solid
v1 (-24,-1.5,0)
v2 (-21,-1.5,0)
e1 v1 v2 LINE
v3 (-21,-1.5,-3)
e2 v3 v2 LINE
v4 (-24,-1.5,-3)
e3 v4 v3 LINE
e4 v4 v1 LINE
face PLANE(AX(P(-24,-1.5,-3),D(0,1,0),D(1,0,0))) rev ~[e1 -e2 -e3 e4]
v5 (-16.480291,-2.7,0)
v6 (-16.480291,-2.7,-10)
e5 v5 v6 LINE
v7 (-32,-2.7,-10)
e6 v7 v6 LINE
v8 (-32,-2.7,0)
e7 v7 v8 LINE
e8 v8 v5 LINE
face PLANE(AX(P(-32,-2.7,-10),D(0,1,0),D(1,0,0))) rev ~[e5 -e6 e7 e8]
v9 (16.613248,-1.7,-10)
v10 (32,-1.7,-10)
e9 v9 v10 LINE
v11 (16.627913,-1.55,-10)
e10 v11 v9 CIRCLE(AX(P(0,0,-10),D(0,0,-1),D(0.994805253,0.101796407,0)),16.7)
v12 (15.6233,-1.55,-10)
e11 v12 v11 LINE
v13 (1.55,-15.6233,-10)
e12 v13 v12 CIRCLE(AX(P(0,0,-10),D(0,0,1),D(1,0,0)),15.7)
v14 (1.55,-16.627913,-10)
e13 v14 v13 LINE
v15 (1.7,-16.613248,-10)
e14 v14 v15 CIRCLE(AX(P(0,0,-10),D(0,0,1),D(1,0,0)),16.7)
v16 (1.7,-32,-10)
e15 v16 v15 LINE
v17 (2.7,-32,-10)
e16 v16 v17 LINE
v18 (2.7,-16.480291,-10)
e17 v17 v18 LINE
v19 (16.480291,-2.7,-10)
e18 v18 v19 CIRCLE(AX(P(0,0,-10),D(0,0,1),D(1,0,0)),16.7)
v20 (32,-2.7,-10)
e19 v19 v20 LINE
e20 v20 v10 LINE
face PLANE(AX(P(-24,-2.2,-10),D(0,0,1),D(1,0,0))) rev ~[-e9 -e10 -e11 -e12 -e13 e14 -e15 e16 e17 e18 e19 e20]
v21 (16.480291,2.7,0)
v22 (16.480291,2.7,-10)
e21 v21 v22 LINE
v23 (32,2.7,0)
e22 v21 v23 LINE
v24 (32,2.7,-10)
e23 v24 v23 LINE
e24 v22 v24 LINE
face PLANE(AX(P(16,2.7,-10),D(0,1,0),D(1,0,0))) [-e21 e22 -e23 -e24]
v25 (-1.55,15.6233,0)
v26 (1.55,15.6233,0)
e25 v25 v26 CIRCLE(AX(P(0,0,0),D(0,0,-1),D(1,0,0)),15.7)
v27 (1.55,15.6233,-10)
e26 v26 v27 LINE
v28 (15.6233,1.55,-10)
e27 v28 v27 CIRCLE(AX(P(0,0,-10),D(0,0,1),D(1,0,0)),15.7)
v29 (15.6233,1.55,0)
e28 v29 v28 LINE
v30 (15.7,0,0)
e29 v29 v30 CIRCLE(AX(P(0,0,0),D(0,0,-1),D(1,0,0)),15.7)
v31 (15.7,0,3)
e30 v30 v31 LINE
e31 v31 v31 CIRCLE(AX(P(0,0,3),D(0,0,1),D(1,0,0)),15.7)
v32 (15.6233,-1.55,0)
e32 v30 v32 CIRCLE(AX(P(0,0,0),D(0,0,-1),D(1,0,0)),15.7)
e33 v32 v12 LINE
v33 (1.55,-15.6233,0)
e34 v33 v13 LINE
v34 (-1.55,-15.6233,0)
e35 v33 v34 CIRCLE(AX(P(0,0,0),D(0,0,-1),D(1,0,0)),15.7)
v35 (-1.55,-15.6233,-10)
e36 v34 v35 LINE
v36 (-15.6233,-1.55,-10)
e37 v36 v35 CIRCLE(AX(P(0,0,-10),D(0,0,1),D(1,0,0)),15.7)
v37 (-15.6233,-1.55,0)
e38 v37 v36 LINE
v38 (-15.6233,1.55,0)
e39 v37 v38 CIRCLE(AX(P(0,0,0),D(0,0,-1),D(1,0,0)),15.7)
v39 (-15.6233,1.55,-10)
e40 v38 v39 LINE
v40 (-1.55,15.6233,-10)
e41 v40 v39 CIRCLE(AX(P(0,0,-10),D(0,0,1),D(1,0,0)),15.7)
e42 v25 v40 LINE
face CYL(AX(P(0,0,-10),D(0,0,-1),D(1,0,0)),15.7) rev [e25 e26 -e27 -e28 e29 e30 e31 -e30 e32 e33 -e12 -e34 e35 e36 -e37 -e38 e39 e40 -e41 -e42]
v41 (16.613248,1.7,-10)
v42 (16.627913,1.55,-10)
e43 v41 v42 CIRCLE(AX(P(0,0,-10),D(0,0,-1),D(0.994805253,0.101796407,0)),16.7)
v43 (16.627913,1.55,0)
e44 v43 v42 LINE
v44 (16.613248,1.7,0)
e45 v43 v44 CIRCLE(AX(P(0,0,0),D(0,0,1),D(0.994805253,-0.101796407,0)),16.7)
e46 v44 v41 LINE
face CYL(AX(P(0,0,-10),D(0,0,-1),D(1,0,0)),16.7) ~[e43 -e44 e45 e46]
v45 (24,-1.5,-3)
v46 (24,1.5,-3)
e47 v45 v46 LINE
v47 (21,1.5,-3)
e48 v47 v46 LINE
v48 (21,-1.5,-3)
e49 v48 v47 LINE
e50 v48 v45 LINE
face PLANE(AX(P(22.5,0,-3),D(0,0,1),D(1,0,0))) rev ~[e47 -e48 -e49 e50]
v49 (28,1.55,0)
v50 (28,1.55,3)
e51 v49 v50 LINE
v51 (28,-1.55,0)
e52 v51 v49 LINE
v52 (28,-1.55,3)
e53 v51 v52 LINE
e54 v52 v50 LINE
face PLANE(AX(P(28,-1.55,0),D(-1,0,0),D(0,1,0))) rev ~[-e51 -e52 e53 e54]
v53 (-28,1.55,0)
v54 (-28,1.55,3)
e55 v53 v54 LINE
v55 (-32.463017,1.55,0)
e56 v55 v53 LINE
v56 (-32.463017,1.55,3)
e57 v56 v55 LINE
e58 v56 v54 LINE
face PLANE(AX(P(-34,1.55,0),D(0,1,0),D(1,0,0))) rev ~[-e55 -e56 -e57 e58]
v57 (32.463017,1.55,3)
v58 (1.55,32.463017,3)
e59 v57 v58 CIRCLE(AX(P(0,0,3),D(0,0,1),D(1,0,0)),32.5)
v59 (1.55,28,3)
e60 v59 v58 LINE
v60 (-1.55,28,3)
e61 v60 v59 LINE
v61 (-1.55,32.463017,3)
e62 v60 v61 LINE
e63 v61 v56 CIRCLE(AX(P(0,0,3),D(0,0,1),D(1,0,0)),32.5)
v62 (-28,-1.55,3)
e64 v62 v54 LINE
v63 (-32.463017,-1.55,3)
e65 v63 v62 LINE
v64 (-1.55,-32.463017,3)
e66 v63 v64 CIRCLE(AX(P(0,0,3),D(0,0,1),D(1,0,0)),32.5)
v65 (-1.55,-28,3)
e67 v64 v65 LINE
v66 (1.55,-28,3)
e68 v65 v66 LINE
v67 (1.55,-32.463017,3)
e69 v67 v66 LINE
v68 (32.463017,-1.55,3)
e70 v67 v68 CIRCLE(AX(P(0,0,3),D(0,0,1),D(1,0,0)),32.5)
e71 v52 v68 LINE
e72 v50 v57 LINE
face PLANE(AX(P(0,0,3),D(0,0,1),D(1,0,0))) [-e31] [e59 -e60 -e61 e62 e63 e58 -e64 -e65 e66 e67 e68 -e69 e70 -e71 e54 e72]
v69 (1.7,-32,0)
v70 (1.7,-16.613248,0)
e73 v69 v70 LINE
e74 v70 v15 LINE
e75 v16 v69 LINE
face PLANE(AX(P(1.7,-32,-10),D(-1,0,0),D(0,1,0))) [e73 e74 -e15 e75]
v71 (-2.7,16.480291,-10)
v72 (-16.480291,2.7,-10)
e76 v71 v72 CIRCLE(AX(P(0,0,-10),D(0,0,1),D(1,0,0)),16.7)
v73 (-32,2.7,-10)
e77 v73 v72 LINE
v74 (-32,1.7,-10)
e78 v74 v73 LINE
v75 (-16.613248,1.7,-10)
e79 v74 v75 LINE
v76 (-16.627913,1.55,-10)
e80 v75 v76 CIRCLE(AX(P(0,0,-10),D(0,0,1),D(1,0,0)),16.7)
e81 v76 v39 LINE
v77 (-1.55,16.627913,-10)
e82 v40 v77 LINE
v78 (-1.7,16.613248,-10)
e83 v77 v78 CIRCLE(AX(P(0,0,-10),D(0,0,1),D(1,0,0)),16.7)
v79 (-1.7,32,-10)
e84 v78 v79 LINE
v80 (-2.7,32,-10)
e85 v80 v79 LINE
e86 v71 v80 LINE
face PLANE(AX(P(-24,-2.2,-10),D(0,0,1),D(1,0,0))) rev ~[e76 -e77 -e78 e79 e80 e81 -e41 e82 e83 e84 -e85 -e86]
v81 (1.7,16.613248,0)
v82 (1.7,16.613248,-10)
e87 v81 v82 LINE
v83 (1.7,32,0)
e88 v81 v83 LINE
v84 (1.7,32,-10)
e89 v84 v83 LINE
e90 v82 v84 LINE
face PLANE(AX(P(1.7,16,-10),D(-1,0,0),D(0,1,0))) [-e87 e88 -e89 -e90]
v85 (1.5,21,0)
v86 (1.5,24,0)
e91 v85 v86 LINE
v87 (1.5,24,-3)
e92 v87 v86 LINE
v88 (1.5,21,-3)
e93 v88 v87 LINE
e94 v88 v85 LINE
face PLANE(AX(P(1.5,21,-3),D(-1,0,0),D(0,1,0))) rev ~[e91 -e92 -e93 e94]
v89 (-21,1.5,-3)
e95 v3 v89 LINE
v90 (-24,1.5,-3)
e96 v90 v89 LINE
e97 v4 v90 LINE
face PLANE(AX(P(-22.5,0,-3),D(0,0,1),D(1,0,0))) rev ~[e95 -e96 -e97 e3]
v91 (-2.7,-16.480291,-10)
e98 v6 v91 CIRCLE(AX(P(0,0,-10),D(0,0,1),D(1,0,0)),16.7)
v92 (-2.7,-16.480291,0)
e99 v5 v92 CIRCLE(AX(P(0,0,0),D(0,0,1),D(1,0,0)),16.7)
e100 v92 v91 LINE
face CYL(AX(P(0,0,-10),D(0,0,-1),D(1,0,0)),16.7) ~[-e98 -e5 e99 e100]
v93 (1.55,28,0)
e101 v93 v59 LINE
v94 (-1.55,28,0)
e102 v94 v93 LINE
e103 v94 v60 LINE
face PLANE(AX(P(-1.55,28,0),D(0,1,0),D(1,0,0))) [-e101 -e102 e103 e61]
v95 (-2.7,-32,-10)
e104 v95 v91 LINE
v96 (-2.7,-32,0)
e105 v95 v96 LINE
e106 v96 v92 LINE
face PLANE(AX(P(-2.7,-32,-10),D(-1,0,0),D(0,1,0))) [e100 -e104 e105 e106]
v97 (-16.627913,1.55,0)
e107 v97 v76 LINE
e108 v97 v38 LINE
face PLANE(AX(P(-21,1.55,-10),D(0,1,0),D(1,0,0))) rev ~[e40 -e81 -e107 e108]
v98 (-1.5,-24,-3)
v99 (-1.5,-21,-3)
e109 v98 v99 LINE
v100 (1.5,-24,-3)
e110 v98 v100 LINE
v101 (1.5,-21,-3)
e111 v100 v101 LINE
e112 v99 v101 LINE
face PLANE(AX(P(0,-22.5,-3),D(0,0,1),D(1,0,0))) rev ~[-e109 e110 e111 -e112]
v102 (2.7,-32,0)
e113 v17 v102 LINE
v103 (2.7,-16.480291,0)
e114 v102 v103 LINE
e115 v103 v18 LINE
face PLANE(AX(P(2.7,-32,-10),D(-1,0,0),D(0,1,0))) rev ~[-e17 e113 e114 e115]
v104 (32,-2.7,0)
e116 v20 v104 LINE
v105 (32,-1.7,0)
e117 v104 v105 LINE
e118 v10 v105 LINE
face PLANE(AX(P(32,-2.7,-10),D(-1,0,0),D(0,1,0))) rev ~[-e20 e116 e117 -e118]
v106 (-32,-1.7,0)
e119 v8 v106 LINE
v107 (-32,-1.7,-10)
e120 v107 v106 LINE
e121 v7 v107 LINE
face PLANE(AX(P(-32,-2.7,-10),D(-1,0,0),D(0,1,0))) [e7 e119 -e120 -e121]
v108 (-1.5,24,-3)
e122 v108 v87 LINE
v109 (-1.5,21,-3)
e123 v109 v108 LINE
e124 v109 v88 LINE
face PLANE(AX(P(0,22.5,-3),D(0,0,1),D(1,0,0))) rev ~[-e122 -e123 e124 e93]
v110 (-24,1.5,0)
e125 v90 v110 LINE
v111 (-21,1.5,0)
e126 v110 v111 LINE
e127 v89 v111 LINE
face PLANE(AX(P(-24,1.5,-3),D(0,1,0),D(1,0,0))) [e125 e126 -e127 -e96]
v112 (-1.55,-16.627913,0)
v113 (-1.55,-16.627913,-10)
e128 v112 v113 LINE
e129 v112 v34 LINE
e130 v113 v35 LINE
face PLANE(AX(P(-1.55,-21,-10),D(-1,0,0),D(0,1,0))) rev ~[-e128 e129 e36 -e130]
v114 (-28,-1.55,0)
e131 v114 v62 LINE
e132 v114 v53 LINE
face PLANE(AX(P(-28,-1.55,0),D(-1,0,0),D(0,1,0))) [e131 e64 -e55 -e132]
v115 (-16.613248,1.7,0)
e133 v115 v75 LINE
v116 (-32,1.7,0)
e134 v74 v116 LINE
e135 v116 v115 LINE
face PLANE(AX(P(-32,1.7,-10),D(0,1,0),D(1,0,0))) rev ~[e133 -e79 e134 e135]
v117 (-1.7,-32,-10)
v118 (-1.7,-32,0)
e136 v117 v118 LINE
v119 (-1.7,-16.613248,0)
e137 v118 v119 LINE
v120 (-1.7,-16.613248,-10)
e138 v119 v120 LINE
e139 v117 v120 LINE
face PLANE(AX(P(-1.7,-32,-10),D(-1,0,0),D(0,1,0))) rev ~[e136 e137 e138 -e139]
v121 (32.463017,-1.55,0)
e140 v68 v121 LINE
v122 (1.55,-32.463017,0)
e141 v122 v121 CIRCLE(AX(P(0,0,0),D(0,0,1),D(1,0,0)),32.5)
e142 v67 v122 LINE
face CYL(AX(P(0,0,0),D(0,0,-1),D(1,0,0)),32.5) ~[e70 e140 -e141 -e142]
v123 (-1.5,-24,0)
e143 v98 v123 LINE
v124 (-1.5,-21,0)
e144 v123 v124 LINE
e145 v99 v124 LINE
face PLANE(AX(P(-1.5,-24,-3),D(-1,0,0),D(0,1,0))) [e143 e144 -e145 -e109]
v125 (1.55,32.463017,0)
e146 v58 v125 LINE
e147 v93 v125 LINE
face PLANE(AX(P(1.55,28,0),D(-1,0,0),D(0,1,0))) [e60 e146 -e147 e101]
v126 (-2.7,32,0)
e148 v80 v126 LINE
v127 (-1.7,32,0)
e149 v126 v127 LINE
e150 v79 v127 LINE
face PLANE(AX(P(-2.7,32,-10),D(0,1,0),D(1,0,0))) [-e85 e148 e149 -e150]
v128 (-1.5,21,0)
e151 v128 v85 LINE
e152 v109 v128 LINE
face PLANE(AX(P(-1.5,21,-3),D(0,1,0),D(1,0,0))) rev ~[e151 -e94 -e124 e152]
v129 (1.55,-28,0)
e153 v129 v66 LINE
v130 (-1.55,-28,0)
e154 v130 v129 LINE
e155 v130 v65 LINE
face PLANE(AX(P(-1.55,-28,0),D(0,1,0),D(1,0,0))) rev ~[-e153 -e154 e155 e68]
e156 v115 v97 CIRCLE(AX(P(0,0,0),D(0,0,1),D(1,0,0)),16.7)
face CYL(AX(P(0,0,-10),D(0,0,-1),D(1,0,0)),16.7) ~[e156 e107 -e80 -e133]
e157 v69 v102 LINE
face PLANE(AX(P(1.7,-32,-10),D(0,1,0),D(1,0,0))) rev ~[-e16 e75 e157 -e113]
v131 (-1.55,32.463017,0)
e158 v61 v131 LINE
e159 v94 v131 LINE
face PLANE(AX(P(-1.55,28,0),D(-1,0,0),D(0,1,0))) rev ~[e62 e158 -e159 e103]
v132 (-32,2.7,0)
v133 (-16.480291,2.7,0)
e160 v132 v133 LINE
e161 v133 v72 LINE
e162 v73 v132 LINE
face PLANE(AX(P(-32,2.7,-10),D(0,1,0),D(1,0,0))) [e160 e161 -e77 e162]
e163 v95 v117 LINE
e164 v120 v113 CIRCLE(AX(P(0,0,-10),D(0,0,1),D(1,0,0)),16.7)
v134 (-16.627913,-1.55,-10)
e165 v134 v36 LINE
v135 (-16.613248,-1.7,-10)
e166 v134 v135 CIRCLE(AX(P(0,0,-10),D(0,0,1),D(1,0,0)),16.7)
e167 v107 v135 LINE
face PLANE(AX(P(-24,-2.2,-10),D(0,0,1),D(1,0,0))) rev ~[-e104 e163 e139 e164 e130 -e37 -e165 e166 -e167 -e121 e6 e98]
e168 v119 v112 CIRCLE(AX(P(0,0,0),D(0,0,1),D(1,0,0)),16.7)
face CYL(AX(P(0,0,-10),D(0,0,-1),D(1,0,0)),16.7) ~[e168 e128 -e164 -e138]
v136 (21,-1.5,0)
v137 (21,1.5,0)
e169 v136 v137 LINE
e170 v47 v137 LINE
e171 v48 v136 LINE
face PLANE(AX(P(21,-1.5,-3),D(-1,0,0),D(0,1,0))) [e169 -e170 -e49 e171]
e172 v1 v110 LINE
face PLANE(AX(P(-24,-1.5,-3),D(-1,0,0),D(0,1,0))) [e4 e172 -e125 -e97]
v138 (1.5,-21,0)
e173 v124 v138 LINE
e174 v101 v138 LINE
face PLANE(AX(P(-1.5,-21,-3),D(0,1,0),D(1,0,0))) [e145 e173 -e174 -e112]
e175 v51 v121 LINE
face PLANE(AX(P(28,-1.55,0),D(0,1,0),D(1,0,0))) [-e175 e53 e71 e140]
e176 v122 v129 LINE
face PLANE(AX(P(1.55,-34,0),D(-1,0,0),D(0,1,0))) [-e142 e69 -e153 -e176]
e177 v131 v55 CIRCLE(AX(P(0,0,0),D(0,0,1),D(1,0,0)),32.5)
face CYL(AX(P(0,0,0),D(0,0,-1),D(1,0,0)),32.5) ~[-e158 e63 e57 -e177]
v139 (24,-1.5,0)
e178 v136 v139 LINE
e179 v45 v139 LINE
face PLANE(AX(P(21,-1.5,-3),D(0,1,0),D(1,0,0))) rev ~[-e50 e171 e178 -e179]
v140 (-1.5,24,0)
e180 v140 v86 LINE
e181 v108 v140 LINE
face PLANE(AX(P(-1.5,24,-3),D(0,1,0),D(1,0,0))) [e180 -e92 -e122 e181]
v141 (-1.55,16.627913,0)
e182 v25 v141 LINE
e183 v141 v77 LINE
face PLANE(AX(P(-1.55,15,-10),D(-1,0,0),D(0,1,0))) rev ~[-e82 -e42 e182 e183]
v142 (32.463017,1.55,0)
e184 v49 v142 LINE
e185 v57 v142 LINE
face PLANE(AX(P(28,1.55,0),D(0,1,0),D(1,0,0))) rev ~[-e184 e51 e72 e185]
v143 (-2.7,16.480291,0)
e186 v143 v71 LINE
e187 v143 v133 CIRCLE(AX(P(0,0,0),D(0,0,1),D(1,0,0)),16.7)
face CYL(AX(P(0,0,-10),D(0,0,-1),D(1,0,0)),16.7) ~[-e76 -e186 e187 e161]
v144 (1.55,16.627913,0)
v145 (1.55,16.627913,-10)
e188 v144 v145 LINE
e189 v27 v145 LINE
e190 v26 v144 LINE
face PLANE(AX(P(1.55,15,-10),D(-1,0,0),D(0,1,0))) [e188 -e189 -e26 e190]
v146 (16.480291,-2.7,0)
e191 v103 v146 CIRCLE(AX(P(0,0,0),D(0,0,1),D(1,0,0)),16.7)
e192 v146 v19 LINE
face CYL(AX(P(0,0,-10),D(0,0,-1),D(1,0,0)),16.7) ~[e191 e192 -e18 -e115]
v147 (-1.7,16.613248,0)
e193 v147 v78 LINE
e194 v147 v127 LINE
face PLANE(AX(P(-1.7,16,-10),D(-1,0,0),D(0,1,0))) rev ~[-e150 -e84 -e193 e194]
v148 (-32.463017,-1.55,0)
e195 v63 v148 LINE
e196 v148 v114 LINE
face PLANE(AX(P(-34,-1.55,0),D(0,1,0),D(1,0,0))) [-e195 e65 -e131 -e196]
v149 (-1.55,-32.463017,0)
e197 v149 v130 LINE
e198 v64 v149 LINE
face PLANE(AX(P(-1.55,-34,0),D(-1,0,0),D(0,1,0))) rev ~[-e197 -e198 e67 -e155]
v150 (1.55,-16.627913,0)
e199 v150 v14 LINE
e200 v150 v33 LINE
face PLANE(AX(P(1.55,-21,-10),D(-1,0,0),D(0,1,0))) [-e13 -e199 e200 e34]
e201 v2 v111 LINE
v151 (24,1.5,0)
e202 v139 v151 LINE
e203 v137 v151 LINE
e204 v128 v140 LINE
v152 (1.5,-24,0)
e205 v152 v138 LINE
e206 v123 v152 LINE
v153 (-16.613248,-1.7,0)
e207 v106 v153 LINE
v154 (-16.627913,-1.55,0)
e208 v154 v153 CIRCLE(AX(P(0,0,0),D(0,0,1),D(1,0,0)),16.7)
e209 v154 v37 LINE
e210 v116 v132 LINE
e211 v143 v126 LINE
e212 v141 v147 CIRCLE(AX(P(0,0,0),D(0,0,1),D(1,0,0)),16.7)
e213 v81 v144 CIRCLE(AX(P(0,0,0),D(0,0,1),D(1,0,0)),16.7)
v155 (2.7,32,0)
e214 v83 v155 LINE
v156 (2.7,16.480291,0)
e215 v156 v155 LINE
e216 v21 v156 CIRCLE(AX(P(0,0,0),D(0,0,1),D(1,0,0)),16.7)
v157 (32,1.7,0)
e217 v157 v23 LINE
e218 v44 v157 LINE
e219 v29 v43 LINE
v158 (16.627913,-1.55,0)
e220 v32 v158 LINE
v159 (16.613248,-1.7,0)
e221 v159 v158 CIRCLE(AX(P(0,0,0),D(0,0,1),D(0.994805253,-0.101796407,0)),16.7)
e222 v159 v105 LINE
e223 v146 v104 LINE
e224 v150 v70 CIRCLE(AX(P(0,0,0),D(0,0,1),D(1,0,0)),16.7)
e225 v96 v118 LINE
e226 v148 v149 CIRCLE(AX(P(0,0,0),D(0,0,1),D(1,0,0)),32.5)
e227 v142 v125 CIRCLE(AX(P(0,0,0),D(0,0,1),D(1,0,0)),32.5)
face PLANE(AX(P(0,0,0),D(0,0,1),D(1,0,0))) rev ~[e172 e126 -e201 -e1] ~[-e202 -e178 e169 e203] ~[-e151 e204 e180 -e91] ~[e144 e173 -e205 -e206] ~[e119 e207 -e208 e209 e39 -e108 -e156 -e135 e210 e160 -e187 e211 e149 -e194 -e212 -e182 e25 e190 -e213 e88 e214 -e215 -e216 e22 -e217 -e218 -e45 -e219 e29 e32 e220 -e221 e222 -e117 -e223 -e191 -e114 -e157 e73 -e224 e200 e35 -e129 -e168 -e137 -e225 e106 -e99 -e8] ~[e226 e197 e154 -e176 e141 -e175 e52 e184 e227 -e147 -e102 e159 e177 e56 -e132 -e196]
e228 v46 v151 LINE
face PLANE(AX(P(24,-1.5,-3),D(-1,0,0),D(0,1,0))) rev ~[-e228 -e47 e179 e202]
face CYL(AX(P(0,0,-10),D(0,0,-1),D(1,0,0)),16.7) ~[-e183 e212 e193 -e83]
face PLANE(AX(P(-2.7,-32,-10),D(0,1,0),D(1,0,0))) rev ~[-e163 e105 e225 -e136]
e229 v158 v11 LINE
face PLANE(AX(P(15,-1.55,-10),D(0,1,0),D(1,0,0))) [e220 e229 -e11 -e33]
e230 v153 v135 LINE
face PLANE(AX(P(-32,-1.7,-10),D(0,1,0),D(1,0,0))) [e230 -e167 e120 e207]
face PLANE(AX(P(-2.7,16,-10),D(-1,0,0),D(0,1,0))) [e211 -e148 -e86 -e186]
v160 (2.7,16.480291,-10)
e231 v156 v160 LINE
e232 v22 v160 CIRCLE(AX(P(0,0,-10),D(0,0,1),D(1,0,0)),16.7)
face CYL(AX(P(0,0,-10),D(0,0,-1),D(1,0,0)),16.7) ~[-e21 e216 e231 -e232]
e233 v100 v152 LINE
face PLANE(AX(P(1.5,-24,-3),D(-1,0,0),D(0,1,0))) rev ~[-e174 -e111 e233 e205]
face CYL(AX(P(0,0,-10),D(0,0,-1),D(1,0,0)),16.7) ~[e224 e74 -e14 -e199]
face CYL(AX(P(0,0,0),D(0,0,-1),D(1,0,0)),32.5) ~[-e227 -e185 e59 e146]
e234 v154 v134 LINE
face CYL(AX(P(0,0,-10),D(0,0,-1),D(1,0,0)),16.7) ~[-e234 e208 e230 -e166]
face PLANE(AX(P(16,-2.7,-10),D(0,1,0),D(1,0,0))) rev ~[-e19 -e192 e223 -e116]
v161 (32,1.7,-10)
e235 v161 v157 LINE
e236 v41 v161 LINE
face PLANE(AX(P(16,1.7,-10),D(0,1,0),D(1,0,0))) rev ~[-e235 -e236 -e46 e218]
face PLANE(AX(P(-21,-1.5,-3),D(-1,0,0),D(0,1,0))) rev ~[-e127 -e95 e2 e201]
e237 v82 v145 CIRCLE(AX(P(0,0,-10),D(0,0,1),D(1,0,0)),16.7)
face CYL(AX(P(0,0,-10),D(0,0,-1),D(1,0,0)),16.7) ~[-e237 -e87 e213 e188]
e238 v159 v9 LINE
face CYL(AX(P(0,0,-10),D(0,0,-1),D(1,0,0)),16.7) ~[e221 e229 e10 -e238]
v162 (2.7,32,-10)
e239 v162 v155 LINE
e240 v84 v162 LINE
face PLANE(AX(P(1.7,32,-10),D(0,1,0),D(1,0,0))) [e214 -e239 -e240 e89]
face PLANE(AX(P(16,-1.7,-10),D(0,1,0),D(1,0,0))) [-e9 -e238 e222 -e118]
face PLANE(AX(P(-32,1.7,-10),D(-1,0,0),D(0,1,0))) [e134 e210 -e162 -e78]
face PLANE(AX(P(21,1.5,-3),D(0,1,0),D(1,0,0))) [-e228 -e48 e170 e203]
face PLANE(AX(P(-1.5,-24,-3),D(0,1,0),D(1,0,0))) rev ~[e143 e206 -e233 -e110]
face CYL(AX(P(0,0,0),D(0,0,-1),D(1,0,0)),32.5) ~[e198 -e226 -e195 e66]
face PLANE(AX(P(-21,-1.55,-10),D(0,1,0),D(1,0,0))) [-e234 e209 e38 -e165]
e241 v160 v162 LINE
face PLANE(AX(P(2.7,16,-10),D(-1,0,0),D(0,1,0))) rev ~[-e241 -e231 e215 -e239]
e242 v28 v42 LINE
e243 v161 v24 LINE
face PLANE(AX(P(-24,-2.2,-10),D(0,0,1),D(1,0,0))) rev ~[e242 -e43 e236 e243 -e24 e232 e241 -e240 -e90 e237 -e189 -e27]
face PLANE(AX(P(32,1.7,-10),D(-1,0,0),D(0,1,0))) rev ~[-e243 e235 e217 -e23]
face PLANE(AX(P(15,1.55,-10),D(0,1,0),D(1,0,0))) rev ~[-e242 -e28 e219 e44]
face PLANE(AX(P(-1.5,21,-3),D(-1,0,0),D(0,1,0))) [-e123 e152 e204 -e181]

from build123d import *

# Parameters (mm, degrees)
BOX017_W      = 3
BOX017_H      = 3
BOX017_DEPTH  = 3
BOX018_W      = 3
BOX018_H      = 3
BOX018_DEPTH  = 3
BOX019_W      = 3
BOX019_H      = 3
BOX019_DEPTH  = 3
BOX016_W      = 3
BOX016_H      = 3
BOX016_DEPTH  = 3
BOX012_W      = 3.1
BOX012_H      = 6
BOX012_DEPTH  = 10
BOX013_W      = 3.1
BOX013_H      = 6
BOX013_DEPTH  = 10
BOX014_W      = 6
BOX014_H      = 3.1
BOX014_DEPTH  = 10
BOX015_W      = 6
BOX015_H      = 3.1
BOX015_DEPTH  = 10
BOX001_W      = 3.1
BOX001_H      = 6
BOX001_DEPTH  = 3
BOX002_W      = 6
BOX002_H      = 3.1
BOX002_DEPTH  = 3
BOX003_W      = 6
BOX003_H      = 3.1
BOX003_DEPTH  = 3
BOX_W         = 3.1
BOX_H         = 6
BOX_DEPTH     = 3
TUBE001_R     = 16.7
TUBE001_R_2   = 15.7
TUBE001_DEPTH = 10
BOX005_W      = 1
BOX005_H      = 16
BOX005_DEPTH  = 10
BOX006_W      = 1
BOX006_H      = 16
BOX006_DEPTH  = 10
BOX007_W      = 1
BOX007_H      = 16
BOX007_DEPTH  = 10
BOX008_W      = 16
BOX008_H      = 1
BOX008_DEPTH  = 10
BOX009_W      = 16
BOX009_H      = 1
BOX009_DEPTH  = 10
BOX010_W      = 16
BOX010_H      = 1
BOX010_DEPTH  = 10
BOX011_W      = 16
BOX011_H      = 1
BOX011_DEPTH  = 10
BOX004_W      = 1
BOX004_H      = 16
BOX004_DEPTH  = 10
TUBE_R        = 32.5
TUBE_R_2      = 15.7
TUBE_DEPTH    = 3


with BuildPart() as finlock002:
    # Box017 → Box017 (new body)
    with BuildSketch(Plane(origin=(-1.5, 21, -3), x_dir=(1, 0, 0), z_dir=(0, 0, 1))):
        with Locations((1.5, 1.5)):
            Rectangle(BOX017_W, BOX017_H)
    extrude(amount=BOX017_DEPTH)


with BuildPart() as finlock003:
    # Box018 → Box018 (new body)
    with BuildSketch(Plane(origin=(-1.5, -24, -3), x_dir=(1, 0, 0), z_dir=(0, 0, 1))):
        with Locations((1.5, 1.5)):
            Rectangle(BOX018_W, BOX018_H)
    extrude(amount=BOX018_DEPTH)


with BuildPart() as finlock004:
    # Box019 → Box019 (new body)
    with BuildSketch(Plane(origin=(-24, -1.5, -3), x_dir=(1, 0, 0), z_dir=(0, 0, 1))):
        with Locations((1.5, 1.5)):
            Rectangle(BOX019_W, BOX019_H)
    extrude(amount=BOX019_DEPTH)


with BuildPart() as finlocks:
    # Box016 → Box016 (new body)
    with BuildSketch(Plane(origin=(21, -1.5, -3), x_dir=(1, 0, 0), z_dir=(0, 0, 1))):
        with Locations((1.5, 1.5)):
            Rectangle(BOX016_W, BOX016_H)
    extrude(amount=BOX016_DEPTH)

    # Fusion005: union FinLock002, FinLock003, FinLock004
    add(finlock002.part)
    add(finlock003.part)
    add(finlock004.part)


with BuildPart() as fincut005:
    # Box012 → Box012 (new body)
    with BuildSketch(Plane(origin=(-1.55, -21, -10), x_dir=(1, 0, 0), z_dir=(0, 0, 1))):
        with Locations((1.55, 3)):
            Rectangle(BOX012_W, BOX012_H)
    extrude(amount=BOX012_DEPTH)


with BuildPart() as fincut006:
    # Box013 → Box013 (new body)
    with BuildSketch(Plane(origin=(-1.55, 15, -10), x_dir=(1, 0, 0), z_dir=(0, 0, 1))):
        with Locations((1.55, 3)):
            Rectangle(BOX013_W, BOX013_H)
    extrude(amount=BOX013_DEPTH)


with BuildPart() as fincut007:
    # Box014 → Box014 (new body)
    with BuildSketch(Plane(origin=(15, -1.55, -10), x_dir=(1, 0, 0), z_dir=(0, 0, 1))):
        with Locations((3, 1.55)):
            Rectangle(BOX014_W, BOX014_H)
    extrude(amount=BOX014_DEPTH)


with BuildPart() as innerfincutouts:
    # Box015 → Box015 (new body)
    with BuildSketch(Plane(origin=(-21, -1.55, -10), x_dir=(1, 0, 0), z_dir=(0, 0, 1))):
        with Locations((3, 1.55)):
            Rectangle(BOX015_W, BOX015_H)
    extrude(amount=BOX015_DEPTH)

    # Fusion002: union FinCut005, FinCut006, FinCut007
    add(fincut005.part)
    add(fincut006.part)
    add(fincut007.part)


with BuildPart() as fincut002:
    # Box001 → Box001 (new body)
    with BuildSketch(Plane(origin=(-1.55, 28, 0), x_dir=(1, 0, 0), z_dir=(0, 0, 1))):
        with Locations((1.55, 3)):
            Rectangle(BOX001_W, BOX001_H)
    extrude(amount=BOX001_DEPTH)


with BuildPart() as fincut003:
    # Box002 → Box002 (new body)
    with BuildSketch(Plane(origin=(28, -1.55, 0), x_dir=(1, 0, 0), z_dir=(0, 0, 1))):
        with Locations((3, 1.55)):
            Rectangle(BOX002_W, BOX002_H)
    extrude(amount=BOX002_DEPTH)


with BuildPart() as fincut004:
    # Box003 → Box003 (new body)
    with BuildSketch(Plane(origin=(-34, -1.55, 0), x_dir=(1, 0, 0), z_dir=(0, 0, 1))):
        with Locations((3, 1.55)):
            Rectangle(BOX003_W, BOX003_H)
    extrude(amount=BOX003_DEPTH)


with BuildPart() as fincutouts:
    # Box → Box (new body)
    with BuildSketch(Plane(origin=(-1.55, -34, 0), x_dir=(1, 0, 0), z_dir=(0, 0, 1))):
        with Locations((1.55, 3)):
            Rectangle(BOX_W, BOX_H)
    extrude(amount=BOX_DEPTH)

    # Fusion: union FinCut002, FinCut003, FinCut004
    add(fincut002.part)
    add(fincut003.part)
    add(fincut004.part)

    # Fusion003: union InnerFinCutouts
    add(innerfincutouts.part)


with BuildPart() as innertube:
    # Tube001 → Tube001 (new body)
    with BuildSketch(Plane.XY.offset(-10)):
        Circle(TUBE001_R)
        Circle(TUBE001_R_2, mode=Mode.SUBTRACT)
    extrude(amount=TUBE001_DEPTH)


with BuildPart() as alignment002:
    # Box005 → Box005 (new body)
    with BuildSketch(Plane(origin=(-2.7, 16, -10), x_dir=(1, 0, 0), z_dir=(0, 0, 1))):
        with Locations((0.5, 8)):
            Rectangle(BOX005_W, BOX005_H)
    extrude(amount=BOX005_DEPTH)


with BuildPart() as alignment003:
    # Box006 → Box006 (new body)
    with BuildSketch(Plane(origin=(-2.7, -32, -10), x_dir=(1, 0, 0), z_dir=(0, 0, 1))):
        with Locations((0.5, 8)):
            Rectangle(BOX006_W, BOX006_H)
    extrude(amount=BOX006_DEPTH)


with BuildPart() as alignment004:
    # Box007 → Box007 (new body)
    with BuildSketch(Plane(origin=(1.7, -32, -10), x_dir=(1, 0, 0), z_dir=(0, 0, 1))):
        with Locations((0.5, 8)):
            Rectangle(BOX007_W, BOX007_H)
    extrude(amount=BOX007_DEPTH)


with BuildPart() as alignment005:
    # Box008 → Box008 (new body)
    with BuildSketch(Plane(origin=(16, 1.7, -10), x_dir=(1, 0, 0), z_dir=(0, 0, 1))):
        with Locations((8, 0.5)):
            Rectangle(BOX008_W, BOX008_H)
    extrude(amount=BOX008_DEPTH)


with BuildPart() as alignment006:
    # Box009 → Box009 (new body)
    with BuildSketch(Plane(origin=(16, -2.7, -10), x_dir=(1, 0, 0), z_dir=(0, 0, 1))):
        with Locations((8, 0.5)):
            Rectangle(BOX009_W, BOX009_H)
    extrude(amount=BOX009_DEPTH)


with BuildPart() as alignment007:
    # Box010 → Box010 (new body)
    with BuildSketch(Plane(origin=(-32, 1.7, -10), x_dir=(1, 0, 0), z_dir=(0, 0, 1))):
        with Locations((8, 0.5)):
            Rectangle(BOX010_W, BOX010_H)
    extrude(amount=BOX010_DEPTH)


with BuildPart() as alignment008:
    # Box011 → Box011 (new body)
    with BuildSketch(Plane(origin=(-32, -2.7, -10), x_dir=(1, 0, 0), z_dir=(0, 0, 1))):
        with Locations((8, 0.5)):
            Rectangle(BOX011_W, BOX011_H)
    extrude(amount=BOX011_DEPTH)


with BuildPart() as alignmenttabs:
    # Box004 → Box004 (new body)
    with BuildSketch(Plane(origin=(1.7, 16, -10), x_dir=(1, 0, 0), z_dir=(0, 0, 1))):
        with Locations((0.5, 8)):
            Rectangle(BOX004_W, BOX004_H)
    extrude(amount=BOX004_DEPTH)

    # Fusion001: union Alignment002, Alignment003, Alignment004, Alignment005, Alignment006, Alignment007, Alignment008
    add(alignment002.part)
    add(alignment003.part)
    add(alignment004.part)
    add(alignment005.part)
    add(alignment006.part)
    add(alignment007.part)
    add(alignment008.part)


with BuildPart() as centeringringwithalignmentandfinlocks:
    # Tube → Tube (new body)
    with BuildSketch(Plane.XY):
        Circle(TUBE_R)
        Circle(TUBE_R_2, mode=Mode.SUBTRACT)
    extrude(amount=TUBE_DEPTH)

    # Fusion004: union InnerTube, AlignmentTabs
    add(innertube.part)
    add(alignmenttabs.part)

    # Cut: cut FinCutouts
    add(fincutouts.part, mode=Mode.SUBTRACT)

    # Connect: union FinLocks
    add(finlocks.part)


solid = centeringringwithalignmentandfinlocks.part
